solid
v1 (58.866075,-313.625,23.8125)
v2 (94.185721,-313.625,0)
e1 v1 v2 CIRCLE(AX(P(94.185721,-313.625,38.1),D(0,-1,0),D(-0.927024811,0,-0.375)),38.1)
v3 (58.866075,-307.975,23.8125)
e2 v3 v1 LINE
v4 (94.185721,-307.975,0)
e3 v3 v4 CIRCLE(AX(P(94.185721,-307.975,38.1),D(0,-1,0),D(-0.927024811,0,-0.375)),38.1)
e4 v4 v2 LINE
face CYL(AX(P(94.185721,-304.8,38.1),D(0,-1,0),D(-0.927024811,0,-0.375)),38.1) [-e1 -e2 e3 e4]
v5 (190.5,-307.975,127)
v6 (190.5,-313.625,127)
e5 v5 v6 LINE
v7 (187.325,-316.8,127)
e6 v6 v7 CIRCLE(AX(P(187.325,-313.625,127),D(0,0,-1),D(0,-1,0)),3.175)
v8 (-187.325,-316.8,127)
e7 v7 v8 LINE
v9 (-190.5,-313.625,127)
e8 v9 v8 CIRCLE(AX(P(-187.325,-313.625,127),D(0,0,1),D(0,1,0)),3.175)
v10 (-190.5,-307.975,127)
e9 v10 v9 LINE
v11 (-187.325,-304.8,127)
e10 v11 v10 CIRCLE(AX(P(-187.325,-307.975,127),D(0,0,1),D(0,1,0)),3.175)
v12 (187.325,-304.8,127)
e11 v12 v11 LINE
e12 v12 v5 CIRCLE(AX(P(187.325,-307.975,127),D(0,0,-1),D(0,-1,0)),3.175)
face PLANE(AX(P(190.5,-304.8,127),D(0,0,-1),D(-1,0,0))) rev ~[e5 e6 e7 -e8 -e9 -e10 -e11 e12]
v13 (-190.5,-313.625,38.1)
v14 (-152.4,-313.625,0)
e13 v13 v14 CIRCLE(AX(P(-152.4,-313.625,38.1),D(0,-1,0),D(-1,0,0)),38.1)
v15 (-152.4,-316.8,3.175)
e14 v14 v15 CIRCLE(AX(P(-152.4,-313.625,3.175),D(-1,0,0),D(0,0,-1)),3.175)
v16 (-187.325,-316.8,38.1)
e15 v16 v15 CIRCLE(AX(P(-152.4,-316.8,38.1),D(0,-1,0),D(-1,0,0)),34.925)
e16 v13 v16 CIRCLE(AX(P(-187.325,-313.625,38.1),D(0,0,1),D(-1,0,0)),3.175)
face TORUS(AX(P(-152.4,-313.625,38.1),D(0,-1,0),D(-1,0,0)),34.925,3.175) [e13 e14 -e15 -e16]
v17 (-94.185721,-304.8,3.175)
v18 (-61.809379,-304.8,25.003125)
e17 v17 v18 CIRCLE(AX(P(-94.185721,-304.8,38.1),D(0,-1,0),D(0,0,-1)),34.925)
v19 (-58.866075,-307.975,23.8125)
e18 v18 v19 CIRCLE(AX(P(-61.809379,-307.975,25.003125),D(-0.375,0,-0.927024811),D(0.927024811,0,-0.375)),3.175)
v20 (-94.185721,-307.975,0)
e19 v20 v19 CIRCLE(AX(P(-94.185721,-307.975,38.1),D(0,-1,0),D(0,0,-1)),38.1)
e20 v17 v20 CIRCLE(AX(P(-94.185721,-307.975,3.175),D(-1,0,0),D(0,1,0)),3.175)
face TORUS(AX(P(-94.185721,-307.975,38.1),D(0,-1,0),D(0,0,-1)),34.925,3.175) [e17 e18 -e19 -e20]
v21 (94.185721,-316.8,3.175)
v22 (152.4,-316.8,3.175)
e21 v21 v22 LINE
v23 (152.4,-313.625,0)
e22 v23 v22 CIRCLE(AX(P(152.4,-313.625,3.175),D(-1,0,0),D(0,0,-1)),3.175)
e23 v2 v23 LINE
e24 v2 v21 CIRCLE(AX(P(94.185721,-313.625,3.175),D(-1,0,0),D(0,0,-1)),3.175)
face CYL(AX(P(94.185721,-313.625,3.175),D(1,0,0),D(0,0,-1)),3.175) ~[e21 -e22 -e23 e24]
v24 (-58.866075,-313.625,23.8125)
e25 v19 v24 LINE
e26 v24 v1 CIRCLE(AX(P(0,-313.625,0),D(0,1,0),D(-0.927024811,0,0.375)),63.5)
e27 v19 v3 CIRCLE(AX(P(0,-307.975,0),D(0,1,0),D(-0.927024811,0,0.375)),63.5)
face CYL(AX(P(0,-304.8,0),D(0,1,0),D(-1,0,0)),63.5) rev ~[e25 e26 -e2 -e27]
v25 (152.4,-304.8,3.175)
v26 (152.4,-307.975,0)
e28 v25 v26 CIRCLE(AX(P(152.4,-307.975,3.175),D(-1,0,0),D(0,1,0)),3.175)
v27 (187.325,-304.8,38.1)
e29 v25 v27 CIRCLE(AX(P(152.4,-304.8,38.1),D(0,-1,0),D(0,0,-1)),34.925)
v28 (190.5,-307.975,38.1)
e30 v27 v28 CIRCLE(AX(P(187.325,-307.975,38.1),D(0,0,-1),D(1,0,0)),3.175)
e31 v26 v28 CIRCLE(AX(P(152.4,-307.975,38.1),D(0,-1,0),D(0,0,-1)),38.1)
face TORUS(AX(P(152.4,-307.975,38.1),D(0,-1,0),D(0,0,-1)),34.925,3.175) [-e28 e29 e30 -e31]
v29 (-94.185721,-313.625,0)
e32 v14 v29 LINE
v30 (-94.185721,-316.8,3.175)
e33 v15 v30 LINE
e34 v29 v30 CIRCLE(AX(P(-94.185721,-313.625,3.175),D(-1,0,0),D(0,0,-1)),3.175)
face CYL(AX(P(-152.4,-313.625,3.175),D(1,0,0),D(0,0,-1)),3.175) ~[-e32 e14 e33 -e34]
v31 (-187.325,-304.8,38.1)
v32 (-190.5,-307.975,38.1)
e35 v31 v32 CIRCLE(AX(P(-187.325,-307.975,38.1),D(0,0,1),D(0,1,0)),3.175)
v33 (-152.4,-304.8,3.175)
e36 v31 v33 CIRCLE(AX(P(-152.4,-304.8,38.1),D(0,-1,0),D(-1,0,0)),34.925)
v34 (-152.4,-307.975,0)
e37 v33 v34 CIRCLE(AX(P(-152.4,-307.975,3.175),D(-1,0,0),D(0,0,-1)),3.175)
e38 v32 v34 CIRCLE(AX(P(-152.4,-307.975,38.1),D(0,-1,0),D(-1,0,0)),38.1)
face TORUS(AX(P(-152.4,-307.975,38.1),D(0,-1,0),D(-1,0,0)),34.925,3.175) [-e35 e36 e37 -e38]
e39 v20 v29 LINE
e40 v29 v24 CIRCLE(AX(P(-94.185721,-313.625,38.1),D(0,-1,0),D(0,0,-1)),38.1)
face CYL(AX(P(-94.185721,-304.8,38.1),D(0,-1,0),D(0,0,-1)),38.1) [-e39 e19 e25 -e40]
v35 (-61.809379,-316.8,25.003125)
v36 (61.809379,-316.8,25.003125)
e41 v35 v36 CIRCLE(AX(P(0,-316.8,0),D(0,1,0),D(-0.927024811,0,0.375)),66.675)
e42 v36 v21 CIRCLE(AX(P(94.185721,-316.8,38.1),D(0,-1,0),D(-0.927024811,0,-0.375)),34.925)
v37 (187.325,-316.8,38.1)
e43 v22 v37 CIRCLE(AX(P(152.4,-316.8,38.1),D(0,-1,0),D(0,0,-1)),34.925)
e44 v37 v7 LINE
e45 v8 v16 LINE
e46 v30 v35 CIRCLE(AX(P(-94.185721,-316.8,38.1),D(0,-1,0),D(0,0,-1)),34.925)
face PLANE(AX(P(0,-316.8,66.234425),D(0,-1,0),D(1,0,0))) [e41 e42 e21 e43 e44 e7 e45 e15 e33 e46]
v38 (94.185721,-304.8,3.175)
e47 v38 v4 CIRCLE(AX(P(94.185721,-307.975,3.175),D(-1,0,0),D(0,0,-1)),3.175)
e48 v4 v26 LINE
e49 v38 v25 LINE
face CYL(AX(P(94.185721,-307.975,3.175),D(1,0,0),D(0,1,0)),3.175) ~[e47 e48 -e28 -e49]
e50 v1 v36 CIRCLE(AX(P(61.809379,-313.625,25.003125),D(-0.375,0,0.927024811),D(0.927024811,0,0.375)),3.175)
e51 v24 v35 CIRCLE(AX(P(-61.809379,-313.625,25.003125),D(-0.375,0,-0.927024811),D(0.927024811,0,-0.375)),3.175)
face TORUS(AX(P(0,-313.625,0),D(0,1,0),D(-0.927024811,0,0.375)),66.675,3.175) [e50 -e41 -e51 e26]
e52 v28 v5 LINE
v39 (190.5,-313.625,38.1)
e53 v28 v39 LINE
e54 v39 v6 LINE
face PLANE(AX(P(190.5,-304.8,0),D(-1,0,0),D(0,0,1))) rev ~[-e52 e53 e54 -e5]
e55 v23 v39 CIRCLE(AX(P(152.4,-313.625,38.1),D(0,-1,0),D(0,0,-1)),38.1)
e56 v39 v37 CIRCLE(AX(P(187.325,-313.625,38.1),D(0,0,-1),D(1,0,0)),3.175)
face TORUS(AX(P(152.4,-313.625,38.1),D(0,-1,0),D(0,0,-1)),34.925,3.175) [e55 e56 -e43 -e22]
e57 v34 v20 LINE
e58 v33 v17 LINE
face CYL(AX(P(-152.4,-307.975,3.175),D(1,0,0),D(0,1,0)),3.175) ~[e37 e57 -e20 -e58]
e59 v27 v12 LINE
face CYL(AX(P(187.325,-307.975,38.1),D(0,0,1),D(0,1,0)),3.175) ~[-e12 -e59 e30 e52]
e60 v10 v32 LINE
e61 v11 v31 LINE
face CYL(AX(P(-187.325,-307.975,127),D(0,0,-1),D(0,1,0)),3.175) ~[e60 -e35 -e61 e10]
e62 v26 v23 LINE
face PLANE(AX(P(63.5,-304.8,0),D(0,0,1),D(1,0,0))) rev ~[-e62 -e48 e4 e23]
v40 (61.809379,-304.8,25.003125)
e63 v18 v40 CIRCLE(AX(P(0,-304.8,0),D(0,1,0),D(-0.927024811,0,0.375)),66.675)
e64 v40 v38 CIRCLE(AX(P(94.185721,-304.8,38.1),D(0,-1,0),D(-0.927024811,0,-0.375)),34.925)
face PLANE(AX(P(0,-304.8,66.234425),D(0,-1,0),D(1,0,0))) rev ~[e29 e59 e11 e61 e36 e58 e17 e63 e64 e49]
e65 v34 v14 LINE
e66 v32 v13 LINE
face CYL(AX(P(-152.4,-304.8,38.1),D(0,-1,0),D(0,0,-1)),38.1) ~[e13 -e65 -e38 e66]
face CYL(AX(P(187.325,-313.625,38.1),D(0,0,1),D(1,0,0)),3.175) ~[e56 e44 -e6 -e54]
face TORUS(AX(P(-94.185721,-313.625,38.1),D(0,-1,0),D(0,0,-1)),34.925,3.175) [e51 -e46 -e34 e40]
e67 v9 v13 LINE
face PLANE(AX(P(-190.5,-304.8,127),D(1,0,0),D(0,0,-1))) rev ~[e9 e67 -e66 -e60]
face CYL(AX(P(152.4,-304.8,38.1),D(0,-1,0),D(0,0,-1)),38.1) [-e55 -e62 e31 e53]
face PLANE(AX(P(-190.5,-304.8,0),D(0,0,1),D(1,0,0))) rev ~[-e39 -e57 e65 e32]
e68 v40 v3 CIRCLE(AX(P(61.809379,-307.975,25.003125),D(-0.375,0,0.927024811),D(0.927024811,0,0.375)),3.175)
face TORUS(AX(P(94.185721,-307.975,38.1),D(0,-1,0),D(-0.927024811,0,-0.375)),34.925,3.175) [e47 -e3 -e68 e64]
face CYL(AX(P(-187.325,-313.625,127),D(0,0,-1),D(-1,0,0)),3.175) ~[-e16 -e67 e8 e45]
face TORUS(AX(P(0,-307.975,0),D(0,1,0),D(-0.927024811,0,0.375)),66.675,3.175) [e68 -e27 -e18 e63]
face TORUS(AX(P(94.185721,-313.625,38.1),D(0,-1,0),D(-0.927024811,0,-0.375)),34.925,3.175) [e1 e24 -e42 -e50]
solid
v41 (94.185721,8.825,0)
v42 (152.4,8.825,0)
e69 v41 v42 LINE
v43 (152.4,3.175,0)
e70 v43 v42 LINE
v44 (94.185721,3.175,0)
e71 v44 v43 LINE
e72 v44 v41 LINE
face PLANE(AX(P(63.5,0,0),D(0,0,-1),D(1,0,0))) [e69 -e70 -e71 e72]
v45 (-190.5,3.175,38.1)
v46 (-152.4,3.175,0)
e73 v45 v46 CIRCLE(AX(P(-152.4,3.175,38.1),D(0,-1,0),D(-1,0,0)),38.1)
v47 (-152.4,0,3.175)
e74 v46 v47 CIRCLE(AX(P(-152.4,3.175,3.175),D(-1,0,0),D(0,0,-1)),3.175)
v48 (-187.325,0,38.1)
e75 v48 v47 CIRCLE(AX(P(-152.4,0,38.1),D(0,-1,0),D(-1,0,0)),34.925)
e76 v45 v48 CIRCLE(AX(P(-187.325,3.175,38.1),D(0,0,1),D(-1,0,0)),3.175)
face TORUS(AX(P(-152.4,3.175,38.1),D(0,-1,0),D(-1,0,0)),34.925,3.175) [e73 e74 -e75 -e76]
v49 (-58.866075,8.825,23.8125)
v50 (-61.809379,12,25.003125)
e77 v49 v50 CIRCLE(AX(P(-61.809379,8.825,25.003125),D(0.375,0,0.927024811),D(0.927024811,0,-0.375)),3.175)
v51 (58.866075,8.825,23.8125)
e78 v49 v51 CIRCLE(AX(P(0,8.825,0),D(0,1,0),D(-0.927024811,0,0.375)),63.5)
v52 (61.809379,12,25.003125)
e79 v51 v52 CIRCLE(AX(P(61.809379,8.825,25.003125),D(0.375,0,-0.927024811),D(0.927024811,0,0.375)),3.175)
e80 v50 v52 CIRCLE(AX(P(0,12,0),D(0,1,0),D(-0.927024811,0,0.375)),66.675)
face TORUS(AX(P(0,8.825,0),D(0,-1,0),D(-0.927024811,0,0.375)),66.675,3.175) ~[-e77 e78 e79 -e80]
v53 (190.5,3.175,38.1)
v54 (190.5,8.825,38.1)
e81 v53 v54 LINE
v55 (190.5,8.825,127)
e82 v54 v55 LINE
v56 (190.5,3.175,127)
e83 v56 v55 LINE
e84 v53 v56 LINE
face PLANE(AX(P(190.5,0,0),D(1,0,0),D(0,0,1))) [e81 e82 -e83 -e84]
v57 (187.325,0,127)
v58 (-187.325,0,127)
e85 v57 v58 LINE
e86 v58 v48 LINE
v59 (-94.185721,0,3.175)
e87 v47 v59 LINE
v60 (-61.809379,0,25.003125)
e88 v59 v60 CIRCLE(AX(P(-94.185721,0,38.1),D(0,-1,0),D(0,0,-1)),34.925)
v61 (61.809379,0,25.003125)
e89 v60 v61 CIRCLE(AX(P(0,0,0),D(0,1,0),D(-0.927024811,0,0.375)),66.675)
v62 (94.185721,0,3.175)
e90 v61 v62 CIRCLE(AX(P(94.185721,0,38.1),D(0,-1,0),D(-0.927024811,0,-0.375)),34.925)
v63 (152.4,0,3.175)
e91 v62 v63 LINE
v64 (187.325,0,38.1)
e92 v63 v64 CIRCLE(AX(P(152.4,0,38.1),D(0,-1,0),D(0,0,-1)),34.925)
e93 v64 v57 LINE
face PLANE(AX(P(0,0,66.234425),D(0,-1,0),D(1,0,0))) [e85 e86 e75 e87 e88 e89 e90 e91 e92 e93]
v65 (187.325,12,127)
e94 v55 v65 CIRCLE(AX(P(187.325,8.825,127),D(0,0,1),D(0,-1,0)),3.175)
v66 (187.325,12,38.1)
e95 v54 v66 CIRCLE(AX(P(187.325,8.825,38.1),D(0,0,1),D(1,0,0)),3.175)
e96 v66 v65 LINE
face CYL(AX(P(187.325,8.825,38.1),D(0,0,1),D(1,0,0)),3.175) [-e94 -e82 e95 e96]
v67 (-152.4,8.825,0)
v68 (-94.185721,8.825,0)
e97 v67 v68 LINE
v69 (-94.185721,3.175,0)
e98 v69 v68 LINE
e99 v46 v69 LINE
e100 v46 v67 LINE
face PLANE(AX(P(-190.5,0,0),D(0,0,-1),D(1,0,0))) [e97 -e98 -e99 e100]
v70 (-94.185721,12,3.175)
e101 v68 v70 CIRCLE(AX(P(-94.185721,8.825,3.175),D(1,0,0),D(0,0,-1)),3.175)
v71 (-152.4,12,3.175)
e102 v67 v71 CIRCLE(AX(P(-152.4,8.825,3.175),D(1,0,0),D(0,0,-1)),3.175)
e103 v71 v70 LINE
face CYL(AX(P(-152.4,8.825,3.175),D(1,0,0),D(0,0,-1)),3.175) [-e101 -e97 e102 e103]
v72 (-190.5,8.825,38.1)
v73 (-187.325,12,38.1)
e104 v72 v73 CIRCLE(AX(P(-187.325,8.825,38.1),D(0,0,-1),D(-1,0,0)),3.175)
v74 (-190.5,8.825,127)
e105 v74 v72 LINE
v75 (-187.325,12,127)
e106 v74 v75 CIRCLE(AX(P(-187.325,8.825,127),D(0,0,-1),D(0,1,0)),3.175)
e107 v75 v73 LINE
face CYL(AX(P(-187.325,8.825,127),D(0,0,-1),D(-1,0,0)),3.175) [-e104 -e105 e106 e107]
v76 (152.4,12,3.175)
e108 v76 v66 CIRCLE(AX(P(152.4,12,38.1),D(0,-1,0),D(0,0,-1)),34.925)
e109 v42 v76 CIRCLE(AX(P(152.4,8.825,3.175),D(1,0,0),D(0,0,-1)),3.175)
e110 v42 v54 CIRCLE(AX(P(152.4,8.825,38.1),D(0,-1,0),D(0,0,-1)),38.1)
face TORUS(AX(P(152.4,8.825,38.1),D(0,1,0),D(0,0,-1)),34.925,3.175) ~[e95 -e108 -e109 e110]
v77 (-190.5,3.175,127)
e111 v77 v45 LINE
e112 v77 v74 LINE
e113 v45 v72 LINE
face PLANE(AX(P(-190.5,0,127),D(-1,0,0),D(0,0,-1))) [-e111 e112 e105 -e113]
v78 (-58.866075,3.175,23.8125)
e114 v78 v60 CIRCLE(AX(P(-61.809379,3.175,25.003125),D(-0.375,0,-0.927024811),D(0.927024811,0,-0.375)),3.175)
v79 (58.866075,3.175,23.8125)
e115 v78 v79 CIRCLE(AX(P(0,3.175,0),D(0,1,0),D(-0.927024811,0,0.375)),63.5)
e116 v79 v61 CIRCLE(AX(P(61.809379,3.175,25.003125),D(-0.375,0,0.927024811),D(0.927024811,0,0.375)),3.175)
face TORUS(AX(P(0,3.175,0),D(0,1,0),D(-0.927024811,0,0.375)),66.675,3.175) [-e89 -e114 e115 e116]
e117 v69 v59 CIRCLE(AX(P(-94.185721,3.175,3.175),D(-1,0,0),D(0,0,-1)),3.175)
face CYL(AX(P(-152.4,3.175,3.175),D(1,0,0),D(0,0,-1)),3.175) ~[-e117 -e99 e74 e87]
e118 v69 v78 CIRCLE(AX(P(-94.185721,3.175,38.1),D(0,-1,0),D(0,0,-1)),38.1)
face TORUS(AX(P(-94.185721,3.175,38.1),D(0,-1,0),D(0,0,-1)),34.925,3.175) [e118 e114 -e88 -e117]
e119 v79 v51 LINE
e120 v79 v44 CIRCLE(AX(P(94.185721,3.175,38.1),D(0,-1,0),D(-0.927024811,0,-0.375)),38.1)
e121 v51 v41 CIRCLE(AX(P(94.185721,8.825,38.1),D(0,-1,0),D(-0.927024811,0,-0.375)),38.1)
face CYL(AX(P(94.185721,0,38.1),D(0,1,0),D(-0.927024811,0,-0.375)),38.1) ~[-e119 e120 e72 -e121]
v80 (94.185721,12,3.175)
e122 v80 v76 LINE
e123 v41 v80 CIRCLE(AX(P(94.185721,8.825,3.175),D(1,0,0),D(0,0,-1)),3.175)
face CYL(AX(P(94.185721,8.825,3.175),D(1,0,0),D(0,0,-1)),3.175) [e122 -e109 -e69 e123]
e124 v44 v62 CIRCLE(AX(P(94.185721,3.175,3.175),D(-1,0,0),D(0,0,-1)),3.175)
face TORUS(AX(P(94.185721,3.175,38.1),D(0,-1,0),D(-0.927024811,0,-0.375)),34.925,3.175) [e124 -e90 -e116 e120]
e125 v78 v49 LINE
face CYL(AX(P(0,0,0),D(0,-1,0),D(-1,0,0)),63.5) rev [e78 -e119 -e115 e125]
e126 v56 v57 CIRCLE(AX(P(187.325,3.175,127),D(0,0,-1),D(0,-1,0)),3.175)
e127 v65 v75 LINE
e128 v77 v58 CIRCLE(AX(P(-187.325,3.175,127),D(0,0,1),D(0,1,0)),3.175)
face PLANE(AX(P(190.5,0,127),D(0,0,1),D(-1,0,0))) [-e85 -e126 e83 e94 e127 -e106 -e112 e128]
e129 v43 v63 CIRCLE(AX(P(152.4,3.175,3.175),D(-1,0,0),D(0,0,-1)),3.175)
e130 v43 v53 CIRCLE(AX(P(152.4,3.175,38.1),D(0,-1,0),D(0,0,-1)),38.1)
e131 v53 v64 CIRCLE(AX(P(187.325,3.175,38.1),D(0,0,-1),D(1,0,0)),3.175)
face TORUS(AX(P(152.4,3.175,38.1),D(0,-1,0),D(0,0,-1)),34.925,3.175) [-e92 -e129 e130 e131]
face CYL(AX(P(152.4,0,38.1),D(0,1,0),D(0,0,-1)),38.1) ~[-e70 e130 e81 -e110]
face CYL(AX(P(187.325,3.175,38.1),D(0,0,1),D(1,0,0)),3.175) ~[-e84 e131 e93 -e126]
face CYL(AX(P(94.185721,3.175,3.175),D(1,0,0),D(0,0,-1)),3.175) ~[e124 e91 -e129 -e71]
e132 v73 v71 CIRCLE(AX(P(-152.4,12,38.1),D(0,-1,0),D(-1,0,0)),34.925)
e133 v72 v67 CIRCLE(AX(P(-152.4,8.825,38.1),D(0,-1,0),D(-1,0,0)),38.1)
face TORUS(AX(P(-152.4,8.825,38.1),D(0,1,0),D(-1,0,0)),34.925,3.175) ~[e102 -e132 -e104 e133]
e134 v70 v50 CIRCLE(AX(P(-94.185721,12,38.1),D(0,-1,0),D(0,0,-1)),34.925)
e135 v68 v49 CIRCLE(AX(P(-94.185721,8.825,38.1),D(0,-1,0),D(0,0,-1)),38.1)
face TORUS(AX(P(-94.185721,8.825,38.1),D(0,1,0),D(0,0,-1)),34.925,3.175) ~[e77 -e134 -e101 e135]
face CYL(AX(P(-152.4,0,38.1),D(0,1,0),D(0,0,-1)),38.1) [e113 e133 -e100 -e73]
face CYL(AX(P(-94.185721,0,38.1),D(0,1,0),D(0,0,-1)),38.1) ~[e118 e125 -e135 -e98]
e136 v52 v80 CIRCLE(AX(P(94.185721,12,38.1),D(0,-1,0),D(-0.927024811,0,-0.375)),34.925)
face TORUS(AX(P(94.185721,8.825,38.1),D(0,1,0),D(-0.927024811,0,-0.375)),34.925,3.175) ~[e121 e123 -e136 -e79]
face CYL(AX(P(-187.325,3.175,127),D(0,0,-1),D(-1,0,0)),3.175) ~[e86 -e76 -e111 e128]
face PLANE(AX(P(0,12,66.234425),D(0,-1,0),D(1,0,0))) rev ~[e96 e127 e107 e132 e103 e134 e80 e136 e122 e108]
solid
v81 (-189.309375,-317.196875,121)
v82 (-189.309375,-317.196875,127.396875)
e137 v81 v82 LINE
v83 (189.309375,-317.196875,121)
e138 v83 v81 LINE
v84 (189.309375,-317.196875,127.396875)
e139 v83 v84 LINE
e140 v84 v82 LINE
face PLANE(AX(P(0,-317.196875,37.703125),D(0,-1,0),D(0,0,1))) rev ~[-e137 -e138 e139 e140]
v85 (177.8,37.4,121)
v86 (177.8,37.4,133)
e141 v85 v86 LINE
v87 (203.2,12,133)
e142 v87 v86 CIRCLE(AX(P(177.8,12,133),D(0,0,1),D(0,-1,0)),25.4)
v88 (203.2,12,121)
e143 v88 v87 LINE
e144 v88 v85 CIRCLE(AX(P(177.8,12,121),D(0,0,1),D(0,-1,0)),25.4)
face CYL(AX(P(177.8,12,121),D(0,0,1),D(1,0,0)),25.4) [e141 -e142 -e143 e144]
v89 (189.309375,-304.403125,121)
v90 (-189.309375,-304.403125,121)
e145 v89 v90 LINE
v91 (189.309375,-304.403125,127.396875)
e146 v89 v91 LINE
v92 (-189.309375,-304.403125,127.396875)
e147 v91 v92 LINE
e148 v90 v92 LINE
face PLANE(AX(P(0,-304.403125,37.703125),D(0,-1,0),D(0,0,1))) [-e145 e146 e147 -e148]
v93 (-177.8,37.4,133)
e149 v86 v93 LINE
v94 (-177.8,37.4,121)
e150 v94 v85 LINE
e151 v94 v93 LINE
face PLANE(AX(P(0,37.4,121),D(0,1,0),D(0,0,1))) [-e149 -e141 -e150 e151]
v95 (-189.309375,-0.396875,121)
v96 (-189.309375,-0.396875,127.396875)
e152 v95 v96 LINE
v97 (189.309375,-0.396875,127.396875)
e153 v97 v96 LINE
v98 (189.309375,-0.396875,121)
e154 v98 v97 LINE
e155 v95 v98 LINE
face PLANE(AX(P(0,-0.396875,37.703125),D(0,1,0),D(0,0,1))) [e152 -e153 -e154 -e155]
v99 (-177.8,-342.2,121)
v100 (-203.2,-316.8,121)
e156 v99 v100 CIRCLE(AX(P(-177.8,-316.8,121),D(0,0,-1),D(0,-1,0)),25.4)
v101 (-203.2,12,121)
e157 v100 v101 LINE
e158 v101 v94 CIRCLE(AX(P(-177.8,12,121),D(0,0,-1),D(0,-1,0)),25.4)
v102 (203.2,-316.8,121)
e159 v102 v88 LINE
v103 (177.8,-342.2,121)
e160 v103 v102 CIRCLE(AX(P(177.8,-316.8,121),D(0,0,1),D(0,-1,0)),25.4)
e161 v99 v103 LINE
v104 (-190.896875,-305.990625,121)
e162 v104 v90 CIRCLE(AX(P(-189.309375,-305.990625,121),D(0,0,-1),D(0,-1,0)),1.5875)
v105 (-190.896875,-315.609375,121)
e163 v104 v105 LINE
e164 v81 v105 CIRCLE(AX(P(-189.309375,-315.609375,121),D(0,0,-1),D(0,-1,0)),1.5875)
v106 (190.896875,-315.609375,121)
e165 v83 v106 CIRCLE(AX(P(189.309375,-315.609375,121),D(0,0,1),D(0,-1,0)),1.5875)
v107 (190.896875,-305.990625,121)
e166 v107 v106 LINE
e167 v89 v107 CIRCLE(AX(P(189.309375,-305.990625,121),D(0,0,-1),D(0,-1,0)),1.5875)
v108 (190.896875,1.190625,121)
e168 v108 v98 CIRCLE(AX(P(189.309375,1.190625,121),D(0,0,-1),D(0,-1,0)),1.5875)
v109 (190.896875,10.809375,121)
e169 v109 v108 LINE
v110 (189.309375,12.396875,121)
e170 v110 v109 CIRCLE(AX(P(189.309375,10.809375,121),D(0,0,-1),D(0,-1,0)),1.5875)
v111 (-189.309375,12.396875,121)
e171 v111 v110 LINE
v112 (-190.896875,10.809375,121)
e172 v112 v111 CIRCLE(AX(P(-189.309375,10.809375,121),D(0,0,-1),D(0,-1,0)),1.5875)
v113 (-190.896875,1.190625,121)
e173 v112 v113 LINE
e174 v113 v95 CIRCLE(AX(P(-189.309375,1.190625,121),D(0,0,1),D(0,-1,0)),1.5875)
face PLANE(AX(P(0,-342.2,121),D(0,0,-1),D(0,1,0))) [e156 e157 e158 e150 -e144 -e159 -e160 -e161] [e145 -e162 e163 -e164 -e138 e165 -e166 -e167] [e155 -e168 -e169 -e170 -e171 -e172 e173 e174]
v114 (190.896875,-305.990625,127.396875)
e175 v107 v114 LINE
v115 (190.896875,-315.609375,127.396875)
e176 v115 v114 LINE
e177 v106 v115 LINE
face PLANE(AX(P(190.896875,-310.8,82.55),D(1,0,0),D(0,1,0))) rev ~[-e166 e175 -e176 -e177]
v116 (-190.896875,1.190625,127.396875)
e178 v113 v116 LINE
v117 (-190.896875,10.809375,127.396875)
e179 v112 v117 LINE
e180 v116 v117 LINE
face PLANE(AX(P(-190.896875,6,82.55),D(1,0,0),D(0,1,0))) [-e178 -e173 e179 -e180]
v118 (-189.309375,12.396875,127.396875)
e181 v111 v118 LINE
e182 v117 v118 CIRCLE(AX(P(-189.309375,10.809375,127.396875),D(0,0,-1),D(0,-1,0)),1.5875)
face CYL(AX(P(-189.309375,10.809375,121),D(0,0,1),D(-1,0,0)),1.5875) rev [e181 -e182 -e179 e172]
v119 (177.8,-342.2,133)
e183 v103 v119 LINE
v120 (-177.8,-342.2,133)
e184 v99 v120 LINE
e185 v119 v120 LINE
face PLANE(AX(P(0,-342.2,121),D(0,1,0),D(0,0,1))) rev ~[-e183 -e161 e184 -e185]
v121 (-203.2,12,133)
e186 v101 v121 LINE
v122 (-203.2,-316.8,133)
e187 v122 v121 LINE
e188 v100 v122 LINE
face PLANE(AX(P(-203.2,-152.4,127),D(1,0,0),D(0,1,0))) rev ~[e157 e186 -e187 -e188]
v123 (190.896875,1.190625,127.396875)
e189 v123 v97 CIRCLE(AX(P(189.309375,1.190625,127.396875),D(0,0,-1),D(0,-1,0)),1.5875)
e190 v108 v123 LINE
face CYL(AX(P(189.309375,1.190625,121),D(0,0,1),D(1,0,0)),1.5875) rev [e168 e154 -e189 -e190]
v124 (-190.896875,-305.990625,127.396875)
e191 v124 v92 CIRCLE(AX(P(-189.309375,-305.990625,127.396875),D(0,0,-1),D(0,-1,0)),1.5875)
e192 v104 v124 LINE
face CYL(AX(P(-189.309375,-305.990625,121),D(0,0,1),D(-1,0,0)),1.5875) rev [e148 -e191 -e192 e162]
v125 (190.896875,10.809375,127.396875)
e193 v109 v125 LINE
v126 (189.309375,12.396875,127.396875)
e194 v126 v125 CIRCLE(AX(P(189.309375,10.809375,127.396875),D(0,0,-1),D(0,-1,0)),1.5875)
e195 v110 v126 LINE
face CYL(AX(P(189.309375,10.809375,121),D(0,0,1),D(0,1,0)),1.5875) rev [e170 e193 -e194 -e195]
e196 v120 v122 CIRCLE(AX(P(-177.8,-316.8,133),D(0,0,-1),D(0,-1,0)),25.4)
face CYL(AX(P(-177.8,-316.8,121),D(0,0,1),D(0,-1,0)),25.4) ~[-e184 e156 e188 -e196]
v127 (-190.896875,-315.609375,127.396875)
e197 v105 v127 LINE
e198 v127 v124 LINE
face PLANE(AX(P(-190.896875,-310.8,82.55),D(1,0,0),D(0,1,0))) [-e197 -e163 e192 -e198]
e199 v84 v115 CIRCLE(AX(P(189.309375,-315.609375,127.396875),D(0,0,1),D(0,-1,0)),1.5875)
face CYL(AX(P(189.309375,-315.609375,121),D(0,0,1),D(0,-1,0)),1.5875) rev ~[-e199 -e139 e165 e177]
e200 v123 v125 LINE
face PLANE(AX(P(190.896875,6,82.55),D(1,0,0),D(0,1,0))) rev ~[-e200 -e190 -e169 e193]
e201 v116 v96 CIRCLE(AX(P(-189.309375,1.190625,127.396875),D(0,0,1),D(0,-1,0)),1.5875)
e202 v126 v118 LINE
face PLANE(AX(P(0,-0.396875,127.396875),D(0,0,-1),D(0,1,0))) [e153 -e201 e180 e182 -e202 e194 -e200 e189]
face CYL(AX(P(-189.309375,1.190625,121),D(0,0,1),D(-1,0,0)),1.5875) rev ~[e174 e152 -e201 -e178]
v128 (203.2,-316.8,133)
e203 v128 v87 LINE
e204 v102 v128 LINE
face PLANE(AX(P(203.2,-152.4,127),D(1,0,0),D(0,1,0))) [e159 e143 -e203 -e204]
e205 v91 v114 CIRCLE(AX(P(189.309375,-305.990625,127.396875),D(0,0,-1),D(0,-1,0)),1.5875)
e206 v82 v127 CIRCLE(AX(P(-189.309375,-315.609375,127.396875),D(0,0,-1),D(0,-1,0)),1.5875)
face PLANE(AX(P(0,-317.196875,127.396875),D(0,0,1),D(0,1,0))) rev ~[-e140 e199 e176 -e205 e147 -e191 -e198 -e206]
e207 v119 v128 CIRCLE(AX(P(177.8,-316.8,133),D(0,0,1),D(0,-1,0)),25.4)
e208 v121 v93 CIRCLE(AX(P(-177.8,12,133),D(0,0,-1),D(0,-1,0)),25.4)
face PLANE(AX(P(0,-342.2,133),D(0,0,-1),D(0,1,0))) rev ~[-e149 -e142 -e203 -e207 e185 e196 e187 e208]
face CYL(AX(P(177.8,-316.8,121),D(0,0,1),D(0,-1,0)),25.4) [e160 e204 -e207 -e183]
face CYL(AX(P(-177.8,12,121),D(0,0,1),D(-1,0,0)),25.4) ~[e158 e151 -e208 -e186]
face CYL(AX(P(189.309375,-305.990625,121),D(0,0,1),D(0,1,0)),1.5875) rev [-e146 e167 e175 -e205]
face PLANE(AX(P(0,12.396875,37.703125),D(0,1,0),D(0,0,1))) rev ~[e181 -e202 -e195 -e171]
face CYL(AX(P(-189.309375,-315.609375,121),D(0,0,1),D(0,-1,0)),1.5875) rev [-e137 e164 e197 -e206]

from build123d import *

# Parameters (mm, degrees)
F1_DEPTH  = 12
F2_R      = 38.1
F5_DEPTH  = 12
F6_R      = 38.1
F7_W      = 379.6
F7_H      = 12
F8_DEPTH  = 203.2
F9_W      = 12.79375
F9_H      = 89.69375
F10_DEPTH = 190.896875
F11_R     = 1.5875
F12_R     = 3.175
F12_2_R   = 3.175
F13_R     = 25.4


with BuildPart() as f1:
    # F0 (on Front) → F1 (new body)
    with BuildSketch(Plane.XZ):
        with BuildLine():
            Line((-190.5, 0), (-63.5, 0))
            ThreePointArc((-63.5, 0), (0, 63.5), (63.5, 0))
            Line((63.5, 0), (190.5, 0))
            Line((190.5, 0), (190.5, 127))
            Line((190.5, 127), (-190.5, 127))
            Line((-190.5, 127), (-190.5, 0))
        make_face()
    extrude(amount=-F1_DEPTH)

    # F2
    f2_edges = [f1.edges().sort_by_distance(p)[0] for p in [
        (-190.5, 6, 0),
        (-63.5, 6, 0),
        (63.5, 6, 0),
        (190.5, 6, 0),
    ]]
    fillet(f2_edges, radius=F2_R)

    # F12
    f12_edges = [f1.edges().sort_by_distance(p)[0] for p in [
        (-123.29286, 0, 0),
        (-123.29286, 12, 0),
    ]]
    fillet(f12_edges, radius=F12_R)


with BuildPart() as f5:
    # F4 (on offset) → F5 (new body)
    with BuildSketch(Plane.XZ.offset(304.8)):
        with BuildLine():
            Line((-190.5, 0), (-63.5, 0))
            ThreePointArc((-63.5, 0), (0, 63.5), (63.5, 0))
            Line((63.5, 0), (190.5, 0))
            Line((190.5, 0), (190.5, 127))
            Line((190.5, 127), (-190.5, 127))
            Line((-190.5, 127), (-190.5, 0))
        make_face()
    extrude(amount=F5_DEPTH)

    # F6
    f6_edges = [f5.edges().sort_by_distance(p)[0] for p in [
        (190.5, -310.8, 0),
        (-63.5, -310.8, 0),
        (-190.5, -310.8, 0),
        (63.5, -310.8, 0),
    ]]
    fillet(f6_edges, radius=F6_R)

    # F12#2
    f12_2_edges = [f5.edges().sort_by_distance(p)[0] for p in [
        (-72.887173, -316.8, 6.509149),
        (-72.887173, -304.8, 6.509149),
    ]]
    fillet(f12_2_edges, radius=F12_2_R)


with BuildPart() as f8:
    # F7 (on Right) → F8 (new body, symmetric)
    with BuildSketch(Plane.YZ):
        with Locations((-152.4, 127)):
            Rectangle(F7_W, F7_H)
    extrude(amount=F8_DEPTH, both=True)

    # F9 (on Right) → F10 (cut, symmetric)
    with BuildSketch(Plane.YZ):
        with Locations((-310.8, 82.55)):
            Rectangle(F9_W, F9_H)
        with Locations((6, 82.55)):
            Rectangle(F9_W, F9_H)
    extrude(amount=F10_DEPTH, both=True, mode=Mode.SUBTRACT)

    # F11
    f11_edges = [f8.edges().sort_by_distance(p)[0] for p in [
        (-190.896875, -317.196875, 124.198437),
        (-190.896875, -304.403125, 124.198437),
        (190.896875, -317.196875, 124.198437),
        (190.896875, -304.403125, 124.198437),
        (190.896875, -0.396875, 124.198437),
        (190.896875, 12.396875, 124.198437),
        (-190.896875, -0.396875, 124.198437),
        (-190.896875, 12.396875, 124.198437),
    ]]
    fillet(f11_edges, radius=F11_R)

    # F13
    f13_edges = [f8.edges().sort_by_distance(p)[0] for p in [
        (203.2, -342.2, 127),
        (-203.2, -342.2, 127),
        (203.2, 37.4, 127),
        (-203.2, 37.4, 127),
    ]]
    fillet(f13_edges, radius=F13_R)


solid = Compound([f1.part, f5.part, f8.part])
